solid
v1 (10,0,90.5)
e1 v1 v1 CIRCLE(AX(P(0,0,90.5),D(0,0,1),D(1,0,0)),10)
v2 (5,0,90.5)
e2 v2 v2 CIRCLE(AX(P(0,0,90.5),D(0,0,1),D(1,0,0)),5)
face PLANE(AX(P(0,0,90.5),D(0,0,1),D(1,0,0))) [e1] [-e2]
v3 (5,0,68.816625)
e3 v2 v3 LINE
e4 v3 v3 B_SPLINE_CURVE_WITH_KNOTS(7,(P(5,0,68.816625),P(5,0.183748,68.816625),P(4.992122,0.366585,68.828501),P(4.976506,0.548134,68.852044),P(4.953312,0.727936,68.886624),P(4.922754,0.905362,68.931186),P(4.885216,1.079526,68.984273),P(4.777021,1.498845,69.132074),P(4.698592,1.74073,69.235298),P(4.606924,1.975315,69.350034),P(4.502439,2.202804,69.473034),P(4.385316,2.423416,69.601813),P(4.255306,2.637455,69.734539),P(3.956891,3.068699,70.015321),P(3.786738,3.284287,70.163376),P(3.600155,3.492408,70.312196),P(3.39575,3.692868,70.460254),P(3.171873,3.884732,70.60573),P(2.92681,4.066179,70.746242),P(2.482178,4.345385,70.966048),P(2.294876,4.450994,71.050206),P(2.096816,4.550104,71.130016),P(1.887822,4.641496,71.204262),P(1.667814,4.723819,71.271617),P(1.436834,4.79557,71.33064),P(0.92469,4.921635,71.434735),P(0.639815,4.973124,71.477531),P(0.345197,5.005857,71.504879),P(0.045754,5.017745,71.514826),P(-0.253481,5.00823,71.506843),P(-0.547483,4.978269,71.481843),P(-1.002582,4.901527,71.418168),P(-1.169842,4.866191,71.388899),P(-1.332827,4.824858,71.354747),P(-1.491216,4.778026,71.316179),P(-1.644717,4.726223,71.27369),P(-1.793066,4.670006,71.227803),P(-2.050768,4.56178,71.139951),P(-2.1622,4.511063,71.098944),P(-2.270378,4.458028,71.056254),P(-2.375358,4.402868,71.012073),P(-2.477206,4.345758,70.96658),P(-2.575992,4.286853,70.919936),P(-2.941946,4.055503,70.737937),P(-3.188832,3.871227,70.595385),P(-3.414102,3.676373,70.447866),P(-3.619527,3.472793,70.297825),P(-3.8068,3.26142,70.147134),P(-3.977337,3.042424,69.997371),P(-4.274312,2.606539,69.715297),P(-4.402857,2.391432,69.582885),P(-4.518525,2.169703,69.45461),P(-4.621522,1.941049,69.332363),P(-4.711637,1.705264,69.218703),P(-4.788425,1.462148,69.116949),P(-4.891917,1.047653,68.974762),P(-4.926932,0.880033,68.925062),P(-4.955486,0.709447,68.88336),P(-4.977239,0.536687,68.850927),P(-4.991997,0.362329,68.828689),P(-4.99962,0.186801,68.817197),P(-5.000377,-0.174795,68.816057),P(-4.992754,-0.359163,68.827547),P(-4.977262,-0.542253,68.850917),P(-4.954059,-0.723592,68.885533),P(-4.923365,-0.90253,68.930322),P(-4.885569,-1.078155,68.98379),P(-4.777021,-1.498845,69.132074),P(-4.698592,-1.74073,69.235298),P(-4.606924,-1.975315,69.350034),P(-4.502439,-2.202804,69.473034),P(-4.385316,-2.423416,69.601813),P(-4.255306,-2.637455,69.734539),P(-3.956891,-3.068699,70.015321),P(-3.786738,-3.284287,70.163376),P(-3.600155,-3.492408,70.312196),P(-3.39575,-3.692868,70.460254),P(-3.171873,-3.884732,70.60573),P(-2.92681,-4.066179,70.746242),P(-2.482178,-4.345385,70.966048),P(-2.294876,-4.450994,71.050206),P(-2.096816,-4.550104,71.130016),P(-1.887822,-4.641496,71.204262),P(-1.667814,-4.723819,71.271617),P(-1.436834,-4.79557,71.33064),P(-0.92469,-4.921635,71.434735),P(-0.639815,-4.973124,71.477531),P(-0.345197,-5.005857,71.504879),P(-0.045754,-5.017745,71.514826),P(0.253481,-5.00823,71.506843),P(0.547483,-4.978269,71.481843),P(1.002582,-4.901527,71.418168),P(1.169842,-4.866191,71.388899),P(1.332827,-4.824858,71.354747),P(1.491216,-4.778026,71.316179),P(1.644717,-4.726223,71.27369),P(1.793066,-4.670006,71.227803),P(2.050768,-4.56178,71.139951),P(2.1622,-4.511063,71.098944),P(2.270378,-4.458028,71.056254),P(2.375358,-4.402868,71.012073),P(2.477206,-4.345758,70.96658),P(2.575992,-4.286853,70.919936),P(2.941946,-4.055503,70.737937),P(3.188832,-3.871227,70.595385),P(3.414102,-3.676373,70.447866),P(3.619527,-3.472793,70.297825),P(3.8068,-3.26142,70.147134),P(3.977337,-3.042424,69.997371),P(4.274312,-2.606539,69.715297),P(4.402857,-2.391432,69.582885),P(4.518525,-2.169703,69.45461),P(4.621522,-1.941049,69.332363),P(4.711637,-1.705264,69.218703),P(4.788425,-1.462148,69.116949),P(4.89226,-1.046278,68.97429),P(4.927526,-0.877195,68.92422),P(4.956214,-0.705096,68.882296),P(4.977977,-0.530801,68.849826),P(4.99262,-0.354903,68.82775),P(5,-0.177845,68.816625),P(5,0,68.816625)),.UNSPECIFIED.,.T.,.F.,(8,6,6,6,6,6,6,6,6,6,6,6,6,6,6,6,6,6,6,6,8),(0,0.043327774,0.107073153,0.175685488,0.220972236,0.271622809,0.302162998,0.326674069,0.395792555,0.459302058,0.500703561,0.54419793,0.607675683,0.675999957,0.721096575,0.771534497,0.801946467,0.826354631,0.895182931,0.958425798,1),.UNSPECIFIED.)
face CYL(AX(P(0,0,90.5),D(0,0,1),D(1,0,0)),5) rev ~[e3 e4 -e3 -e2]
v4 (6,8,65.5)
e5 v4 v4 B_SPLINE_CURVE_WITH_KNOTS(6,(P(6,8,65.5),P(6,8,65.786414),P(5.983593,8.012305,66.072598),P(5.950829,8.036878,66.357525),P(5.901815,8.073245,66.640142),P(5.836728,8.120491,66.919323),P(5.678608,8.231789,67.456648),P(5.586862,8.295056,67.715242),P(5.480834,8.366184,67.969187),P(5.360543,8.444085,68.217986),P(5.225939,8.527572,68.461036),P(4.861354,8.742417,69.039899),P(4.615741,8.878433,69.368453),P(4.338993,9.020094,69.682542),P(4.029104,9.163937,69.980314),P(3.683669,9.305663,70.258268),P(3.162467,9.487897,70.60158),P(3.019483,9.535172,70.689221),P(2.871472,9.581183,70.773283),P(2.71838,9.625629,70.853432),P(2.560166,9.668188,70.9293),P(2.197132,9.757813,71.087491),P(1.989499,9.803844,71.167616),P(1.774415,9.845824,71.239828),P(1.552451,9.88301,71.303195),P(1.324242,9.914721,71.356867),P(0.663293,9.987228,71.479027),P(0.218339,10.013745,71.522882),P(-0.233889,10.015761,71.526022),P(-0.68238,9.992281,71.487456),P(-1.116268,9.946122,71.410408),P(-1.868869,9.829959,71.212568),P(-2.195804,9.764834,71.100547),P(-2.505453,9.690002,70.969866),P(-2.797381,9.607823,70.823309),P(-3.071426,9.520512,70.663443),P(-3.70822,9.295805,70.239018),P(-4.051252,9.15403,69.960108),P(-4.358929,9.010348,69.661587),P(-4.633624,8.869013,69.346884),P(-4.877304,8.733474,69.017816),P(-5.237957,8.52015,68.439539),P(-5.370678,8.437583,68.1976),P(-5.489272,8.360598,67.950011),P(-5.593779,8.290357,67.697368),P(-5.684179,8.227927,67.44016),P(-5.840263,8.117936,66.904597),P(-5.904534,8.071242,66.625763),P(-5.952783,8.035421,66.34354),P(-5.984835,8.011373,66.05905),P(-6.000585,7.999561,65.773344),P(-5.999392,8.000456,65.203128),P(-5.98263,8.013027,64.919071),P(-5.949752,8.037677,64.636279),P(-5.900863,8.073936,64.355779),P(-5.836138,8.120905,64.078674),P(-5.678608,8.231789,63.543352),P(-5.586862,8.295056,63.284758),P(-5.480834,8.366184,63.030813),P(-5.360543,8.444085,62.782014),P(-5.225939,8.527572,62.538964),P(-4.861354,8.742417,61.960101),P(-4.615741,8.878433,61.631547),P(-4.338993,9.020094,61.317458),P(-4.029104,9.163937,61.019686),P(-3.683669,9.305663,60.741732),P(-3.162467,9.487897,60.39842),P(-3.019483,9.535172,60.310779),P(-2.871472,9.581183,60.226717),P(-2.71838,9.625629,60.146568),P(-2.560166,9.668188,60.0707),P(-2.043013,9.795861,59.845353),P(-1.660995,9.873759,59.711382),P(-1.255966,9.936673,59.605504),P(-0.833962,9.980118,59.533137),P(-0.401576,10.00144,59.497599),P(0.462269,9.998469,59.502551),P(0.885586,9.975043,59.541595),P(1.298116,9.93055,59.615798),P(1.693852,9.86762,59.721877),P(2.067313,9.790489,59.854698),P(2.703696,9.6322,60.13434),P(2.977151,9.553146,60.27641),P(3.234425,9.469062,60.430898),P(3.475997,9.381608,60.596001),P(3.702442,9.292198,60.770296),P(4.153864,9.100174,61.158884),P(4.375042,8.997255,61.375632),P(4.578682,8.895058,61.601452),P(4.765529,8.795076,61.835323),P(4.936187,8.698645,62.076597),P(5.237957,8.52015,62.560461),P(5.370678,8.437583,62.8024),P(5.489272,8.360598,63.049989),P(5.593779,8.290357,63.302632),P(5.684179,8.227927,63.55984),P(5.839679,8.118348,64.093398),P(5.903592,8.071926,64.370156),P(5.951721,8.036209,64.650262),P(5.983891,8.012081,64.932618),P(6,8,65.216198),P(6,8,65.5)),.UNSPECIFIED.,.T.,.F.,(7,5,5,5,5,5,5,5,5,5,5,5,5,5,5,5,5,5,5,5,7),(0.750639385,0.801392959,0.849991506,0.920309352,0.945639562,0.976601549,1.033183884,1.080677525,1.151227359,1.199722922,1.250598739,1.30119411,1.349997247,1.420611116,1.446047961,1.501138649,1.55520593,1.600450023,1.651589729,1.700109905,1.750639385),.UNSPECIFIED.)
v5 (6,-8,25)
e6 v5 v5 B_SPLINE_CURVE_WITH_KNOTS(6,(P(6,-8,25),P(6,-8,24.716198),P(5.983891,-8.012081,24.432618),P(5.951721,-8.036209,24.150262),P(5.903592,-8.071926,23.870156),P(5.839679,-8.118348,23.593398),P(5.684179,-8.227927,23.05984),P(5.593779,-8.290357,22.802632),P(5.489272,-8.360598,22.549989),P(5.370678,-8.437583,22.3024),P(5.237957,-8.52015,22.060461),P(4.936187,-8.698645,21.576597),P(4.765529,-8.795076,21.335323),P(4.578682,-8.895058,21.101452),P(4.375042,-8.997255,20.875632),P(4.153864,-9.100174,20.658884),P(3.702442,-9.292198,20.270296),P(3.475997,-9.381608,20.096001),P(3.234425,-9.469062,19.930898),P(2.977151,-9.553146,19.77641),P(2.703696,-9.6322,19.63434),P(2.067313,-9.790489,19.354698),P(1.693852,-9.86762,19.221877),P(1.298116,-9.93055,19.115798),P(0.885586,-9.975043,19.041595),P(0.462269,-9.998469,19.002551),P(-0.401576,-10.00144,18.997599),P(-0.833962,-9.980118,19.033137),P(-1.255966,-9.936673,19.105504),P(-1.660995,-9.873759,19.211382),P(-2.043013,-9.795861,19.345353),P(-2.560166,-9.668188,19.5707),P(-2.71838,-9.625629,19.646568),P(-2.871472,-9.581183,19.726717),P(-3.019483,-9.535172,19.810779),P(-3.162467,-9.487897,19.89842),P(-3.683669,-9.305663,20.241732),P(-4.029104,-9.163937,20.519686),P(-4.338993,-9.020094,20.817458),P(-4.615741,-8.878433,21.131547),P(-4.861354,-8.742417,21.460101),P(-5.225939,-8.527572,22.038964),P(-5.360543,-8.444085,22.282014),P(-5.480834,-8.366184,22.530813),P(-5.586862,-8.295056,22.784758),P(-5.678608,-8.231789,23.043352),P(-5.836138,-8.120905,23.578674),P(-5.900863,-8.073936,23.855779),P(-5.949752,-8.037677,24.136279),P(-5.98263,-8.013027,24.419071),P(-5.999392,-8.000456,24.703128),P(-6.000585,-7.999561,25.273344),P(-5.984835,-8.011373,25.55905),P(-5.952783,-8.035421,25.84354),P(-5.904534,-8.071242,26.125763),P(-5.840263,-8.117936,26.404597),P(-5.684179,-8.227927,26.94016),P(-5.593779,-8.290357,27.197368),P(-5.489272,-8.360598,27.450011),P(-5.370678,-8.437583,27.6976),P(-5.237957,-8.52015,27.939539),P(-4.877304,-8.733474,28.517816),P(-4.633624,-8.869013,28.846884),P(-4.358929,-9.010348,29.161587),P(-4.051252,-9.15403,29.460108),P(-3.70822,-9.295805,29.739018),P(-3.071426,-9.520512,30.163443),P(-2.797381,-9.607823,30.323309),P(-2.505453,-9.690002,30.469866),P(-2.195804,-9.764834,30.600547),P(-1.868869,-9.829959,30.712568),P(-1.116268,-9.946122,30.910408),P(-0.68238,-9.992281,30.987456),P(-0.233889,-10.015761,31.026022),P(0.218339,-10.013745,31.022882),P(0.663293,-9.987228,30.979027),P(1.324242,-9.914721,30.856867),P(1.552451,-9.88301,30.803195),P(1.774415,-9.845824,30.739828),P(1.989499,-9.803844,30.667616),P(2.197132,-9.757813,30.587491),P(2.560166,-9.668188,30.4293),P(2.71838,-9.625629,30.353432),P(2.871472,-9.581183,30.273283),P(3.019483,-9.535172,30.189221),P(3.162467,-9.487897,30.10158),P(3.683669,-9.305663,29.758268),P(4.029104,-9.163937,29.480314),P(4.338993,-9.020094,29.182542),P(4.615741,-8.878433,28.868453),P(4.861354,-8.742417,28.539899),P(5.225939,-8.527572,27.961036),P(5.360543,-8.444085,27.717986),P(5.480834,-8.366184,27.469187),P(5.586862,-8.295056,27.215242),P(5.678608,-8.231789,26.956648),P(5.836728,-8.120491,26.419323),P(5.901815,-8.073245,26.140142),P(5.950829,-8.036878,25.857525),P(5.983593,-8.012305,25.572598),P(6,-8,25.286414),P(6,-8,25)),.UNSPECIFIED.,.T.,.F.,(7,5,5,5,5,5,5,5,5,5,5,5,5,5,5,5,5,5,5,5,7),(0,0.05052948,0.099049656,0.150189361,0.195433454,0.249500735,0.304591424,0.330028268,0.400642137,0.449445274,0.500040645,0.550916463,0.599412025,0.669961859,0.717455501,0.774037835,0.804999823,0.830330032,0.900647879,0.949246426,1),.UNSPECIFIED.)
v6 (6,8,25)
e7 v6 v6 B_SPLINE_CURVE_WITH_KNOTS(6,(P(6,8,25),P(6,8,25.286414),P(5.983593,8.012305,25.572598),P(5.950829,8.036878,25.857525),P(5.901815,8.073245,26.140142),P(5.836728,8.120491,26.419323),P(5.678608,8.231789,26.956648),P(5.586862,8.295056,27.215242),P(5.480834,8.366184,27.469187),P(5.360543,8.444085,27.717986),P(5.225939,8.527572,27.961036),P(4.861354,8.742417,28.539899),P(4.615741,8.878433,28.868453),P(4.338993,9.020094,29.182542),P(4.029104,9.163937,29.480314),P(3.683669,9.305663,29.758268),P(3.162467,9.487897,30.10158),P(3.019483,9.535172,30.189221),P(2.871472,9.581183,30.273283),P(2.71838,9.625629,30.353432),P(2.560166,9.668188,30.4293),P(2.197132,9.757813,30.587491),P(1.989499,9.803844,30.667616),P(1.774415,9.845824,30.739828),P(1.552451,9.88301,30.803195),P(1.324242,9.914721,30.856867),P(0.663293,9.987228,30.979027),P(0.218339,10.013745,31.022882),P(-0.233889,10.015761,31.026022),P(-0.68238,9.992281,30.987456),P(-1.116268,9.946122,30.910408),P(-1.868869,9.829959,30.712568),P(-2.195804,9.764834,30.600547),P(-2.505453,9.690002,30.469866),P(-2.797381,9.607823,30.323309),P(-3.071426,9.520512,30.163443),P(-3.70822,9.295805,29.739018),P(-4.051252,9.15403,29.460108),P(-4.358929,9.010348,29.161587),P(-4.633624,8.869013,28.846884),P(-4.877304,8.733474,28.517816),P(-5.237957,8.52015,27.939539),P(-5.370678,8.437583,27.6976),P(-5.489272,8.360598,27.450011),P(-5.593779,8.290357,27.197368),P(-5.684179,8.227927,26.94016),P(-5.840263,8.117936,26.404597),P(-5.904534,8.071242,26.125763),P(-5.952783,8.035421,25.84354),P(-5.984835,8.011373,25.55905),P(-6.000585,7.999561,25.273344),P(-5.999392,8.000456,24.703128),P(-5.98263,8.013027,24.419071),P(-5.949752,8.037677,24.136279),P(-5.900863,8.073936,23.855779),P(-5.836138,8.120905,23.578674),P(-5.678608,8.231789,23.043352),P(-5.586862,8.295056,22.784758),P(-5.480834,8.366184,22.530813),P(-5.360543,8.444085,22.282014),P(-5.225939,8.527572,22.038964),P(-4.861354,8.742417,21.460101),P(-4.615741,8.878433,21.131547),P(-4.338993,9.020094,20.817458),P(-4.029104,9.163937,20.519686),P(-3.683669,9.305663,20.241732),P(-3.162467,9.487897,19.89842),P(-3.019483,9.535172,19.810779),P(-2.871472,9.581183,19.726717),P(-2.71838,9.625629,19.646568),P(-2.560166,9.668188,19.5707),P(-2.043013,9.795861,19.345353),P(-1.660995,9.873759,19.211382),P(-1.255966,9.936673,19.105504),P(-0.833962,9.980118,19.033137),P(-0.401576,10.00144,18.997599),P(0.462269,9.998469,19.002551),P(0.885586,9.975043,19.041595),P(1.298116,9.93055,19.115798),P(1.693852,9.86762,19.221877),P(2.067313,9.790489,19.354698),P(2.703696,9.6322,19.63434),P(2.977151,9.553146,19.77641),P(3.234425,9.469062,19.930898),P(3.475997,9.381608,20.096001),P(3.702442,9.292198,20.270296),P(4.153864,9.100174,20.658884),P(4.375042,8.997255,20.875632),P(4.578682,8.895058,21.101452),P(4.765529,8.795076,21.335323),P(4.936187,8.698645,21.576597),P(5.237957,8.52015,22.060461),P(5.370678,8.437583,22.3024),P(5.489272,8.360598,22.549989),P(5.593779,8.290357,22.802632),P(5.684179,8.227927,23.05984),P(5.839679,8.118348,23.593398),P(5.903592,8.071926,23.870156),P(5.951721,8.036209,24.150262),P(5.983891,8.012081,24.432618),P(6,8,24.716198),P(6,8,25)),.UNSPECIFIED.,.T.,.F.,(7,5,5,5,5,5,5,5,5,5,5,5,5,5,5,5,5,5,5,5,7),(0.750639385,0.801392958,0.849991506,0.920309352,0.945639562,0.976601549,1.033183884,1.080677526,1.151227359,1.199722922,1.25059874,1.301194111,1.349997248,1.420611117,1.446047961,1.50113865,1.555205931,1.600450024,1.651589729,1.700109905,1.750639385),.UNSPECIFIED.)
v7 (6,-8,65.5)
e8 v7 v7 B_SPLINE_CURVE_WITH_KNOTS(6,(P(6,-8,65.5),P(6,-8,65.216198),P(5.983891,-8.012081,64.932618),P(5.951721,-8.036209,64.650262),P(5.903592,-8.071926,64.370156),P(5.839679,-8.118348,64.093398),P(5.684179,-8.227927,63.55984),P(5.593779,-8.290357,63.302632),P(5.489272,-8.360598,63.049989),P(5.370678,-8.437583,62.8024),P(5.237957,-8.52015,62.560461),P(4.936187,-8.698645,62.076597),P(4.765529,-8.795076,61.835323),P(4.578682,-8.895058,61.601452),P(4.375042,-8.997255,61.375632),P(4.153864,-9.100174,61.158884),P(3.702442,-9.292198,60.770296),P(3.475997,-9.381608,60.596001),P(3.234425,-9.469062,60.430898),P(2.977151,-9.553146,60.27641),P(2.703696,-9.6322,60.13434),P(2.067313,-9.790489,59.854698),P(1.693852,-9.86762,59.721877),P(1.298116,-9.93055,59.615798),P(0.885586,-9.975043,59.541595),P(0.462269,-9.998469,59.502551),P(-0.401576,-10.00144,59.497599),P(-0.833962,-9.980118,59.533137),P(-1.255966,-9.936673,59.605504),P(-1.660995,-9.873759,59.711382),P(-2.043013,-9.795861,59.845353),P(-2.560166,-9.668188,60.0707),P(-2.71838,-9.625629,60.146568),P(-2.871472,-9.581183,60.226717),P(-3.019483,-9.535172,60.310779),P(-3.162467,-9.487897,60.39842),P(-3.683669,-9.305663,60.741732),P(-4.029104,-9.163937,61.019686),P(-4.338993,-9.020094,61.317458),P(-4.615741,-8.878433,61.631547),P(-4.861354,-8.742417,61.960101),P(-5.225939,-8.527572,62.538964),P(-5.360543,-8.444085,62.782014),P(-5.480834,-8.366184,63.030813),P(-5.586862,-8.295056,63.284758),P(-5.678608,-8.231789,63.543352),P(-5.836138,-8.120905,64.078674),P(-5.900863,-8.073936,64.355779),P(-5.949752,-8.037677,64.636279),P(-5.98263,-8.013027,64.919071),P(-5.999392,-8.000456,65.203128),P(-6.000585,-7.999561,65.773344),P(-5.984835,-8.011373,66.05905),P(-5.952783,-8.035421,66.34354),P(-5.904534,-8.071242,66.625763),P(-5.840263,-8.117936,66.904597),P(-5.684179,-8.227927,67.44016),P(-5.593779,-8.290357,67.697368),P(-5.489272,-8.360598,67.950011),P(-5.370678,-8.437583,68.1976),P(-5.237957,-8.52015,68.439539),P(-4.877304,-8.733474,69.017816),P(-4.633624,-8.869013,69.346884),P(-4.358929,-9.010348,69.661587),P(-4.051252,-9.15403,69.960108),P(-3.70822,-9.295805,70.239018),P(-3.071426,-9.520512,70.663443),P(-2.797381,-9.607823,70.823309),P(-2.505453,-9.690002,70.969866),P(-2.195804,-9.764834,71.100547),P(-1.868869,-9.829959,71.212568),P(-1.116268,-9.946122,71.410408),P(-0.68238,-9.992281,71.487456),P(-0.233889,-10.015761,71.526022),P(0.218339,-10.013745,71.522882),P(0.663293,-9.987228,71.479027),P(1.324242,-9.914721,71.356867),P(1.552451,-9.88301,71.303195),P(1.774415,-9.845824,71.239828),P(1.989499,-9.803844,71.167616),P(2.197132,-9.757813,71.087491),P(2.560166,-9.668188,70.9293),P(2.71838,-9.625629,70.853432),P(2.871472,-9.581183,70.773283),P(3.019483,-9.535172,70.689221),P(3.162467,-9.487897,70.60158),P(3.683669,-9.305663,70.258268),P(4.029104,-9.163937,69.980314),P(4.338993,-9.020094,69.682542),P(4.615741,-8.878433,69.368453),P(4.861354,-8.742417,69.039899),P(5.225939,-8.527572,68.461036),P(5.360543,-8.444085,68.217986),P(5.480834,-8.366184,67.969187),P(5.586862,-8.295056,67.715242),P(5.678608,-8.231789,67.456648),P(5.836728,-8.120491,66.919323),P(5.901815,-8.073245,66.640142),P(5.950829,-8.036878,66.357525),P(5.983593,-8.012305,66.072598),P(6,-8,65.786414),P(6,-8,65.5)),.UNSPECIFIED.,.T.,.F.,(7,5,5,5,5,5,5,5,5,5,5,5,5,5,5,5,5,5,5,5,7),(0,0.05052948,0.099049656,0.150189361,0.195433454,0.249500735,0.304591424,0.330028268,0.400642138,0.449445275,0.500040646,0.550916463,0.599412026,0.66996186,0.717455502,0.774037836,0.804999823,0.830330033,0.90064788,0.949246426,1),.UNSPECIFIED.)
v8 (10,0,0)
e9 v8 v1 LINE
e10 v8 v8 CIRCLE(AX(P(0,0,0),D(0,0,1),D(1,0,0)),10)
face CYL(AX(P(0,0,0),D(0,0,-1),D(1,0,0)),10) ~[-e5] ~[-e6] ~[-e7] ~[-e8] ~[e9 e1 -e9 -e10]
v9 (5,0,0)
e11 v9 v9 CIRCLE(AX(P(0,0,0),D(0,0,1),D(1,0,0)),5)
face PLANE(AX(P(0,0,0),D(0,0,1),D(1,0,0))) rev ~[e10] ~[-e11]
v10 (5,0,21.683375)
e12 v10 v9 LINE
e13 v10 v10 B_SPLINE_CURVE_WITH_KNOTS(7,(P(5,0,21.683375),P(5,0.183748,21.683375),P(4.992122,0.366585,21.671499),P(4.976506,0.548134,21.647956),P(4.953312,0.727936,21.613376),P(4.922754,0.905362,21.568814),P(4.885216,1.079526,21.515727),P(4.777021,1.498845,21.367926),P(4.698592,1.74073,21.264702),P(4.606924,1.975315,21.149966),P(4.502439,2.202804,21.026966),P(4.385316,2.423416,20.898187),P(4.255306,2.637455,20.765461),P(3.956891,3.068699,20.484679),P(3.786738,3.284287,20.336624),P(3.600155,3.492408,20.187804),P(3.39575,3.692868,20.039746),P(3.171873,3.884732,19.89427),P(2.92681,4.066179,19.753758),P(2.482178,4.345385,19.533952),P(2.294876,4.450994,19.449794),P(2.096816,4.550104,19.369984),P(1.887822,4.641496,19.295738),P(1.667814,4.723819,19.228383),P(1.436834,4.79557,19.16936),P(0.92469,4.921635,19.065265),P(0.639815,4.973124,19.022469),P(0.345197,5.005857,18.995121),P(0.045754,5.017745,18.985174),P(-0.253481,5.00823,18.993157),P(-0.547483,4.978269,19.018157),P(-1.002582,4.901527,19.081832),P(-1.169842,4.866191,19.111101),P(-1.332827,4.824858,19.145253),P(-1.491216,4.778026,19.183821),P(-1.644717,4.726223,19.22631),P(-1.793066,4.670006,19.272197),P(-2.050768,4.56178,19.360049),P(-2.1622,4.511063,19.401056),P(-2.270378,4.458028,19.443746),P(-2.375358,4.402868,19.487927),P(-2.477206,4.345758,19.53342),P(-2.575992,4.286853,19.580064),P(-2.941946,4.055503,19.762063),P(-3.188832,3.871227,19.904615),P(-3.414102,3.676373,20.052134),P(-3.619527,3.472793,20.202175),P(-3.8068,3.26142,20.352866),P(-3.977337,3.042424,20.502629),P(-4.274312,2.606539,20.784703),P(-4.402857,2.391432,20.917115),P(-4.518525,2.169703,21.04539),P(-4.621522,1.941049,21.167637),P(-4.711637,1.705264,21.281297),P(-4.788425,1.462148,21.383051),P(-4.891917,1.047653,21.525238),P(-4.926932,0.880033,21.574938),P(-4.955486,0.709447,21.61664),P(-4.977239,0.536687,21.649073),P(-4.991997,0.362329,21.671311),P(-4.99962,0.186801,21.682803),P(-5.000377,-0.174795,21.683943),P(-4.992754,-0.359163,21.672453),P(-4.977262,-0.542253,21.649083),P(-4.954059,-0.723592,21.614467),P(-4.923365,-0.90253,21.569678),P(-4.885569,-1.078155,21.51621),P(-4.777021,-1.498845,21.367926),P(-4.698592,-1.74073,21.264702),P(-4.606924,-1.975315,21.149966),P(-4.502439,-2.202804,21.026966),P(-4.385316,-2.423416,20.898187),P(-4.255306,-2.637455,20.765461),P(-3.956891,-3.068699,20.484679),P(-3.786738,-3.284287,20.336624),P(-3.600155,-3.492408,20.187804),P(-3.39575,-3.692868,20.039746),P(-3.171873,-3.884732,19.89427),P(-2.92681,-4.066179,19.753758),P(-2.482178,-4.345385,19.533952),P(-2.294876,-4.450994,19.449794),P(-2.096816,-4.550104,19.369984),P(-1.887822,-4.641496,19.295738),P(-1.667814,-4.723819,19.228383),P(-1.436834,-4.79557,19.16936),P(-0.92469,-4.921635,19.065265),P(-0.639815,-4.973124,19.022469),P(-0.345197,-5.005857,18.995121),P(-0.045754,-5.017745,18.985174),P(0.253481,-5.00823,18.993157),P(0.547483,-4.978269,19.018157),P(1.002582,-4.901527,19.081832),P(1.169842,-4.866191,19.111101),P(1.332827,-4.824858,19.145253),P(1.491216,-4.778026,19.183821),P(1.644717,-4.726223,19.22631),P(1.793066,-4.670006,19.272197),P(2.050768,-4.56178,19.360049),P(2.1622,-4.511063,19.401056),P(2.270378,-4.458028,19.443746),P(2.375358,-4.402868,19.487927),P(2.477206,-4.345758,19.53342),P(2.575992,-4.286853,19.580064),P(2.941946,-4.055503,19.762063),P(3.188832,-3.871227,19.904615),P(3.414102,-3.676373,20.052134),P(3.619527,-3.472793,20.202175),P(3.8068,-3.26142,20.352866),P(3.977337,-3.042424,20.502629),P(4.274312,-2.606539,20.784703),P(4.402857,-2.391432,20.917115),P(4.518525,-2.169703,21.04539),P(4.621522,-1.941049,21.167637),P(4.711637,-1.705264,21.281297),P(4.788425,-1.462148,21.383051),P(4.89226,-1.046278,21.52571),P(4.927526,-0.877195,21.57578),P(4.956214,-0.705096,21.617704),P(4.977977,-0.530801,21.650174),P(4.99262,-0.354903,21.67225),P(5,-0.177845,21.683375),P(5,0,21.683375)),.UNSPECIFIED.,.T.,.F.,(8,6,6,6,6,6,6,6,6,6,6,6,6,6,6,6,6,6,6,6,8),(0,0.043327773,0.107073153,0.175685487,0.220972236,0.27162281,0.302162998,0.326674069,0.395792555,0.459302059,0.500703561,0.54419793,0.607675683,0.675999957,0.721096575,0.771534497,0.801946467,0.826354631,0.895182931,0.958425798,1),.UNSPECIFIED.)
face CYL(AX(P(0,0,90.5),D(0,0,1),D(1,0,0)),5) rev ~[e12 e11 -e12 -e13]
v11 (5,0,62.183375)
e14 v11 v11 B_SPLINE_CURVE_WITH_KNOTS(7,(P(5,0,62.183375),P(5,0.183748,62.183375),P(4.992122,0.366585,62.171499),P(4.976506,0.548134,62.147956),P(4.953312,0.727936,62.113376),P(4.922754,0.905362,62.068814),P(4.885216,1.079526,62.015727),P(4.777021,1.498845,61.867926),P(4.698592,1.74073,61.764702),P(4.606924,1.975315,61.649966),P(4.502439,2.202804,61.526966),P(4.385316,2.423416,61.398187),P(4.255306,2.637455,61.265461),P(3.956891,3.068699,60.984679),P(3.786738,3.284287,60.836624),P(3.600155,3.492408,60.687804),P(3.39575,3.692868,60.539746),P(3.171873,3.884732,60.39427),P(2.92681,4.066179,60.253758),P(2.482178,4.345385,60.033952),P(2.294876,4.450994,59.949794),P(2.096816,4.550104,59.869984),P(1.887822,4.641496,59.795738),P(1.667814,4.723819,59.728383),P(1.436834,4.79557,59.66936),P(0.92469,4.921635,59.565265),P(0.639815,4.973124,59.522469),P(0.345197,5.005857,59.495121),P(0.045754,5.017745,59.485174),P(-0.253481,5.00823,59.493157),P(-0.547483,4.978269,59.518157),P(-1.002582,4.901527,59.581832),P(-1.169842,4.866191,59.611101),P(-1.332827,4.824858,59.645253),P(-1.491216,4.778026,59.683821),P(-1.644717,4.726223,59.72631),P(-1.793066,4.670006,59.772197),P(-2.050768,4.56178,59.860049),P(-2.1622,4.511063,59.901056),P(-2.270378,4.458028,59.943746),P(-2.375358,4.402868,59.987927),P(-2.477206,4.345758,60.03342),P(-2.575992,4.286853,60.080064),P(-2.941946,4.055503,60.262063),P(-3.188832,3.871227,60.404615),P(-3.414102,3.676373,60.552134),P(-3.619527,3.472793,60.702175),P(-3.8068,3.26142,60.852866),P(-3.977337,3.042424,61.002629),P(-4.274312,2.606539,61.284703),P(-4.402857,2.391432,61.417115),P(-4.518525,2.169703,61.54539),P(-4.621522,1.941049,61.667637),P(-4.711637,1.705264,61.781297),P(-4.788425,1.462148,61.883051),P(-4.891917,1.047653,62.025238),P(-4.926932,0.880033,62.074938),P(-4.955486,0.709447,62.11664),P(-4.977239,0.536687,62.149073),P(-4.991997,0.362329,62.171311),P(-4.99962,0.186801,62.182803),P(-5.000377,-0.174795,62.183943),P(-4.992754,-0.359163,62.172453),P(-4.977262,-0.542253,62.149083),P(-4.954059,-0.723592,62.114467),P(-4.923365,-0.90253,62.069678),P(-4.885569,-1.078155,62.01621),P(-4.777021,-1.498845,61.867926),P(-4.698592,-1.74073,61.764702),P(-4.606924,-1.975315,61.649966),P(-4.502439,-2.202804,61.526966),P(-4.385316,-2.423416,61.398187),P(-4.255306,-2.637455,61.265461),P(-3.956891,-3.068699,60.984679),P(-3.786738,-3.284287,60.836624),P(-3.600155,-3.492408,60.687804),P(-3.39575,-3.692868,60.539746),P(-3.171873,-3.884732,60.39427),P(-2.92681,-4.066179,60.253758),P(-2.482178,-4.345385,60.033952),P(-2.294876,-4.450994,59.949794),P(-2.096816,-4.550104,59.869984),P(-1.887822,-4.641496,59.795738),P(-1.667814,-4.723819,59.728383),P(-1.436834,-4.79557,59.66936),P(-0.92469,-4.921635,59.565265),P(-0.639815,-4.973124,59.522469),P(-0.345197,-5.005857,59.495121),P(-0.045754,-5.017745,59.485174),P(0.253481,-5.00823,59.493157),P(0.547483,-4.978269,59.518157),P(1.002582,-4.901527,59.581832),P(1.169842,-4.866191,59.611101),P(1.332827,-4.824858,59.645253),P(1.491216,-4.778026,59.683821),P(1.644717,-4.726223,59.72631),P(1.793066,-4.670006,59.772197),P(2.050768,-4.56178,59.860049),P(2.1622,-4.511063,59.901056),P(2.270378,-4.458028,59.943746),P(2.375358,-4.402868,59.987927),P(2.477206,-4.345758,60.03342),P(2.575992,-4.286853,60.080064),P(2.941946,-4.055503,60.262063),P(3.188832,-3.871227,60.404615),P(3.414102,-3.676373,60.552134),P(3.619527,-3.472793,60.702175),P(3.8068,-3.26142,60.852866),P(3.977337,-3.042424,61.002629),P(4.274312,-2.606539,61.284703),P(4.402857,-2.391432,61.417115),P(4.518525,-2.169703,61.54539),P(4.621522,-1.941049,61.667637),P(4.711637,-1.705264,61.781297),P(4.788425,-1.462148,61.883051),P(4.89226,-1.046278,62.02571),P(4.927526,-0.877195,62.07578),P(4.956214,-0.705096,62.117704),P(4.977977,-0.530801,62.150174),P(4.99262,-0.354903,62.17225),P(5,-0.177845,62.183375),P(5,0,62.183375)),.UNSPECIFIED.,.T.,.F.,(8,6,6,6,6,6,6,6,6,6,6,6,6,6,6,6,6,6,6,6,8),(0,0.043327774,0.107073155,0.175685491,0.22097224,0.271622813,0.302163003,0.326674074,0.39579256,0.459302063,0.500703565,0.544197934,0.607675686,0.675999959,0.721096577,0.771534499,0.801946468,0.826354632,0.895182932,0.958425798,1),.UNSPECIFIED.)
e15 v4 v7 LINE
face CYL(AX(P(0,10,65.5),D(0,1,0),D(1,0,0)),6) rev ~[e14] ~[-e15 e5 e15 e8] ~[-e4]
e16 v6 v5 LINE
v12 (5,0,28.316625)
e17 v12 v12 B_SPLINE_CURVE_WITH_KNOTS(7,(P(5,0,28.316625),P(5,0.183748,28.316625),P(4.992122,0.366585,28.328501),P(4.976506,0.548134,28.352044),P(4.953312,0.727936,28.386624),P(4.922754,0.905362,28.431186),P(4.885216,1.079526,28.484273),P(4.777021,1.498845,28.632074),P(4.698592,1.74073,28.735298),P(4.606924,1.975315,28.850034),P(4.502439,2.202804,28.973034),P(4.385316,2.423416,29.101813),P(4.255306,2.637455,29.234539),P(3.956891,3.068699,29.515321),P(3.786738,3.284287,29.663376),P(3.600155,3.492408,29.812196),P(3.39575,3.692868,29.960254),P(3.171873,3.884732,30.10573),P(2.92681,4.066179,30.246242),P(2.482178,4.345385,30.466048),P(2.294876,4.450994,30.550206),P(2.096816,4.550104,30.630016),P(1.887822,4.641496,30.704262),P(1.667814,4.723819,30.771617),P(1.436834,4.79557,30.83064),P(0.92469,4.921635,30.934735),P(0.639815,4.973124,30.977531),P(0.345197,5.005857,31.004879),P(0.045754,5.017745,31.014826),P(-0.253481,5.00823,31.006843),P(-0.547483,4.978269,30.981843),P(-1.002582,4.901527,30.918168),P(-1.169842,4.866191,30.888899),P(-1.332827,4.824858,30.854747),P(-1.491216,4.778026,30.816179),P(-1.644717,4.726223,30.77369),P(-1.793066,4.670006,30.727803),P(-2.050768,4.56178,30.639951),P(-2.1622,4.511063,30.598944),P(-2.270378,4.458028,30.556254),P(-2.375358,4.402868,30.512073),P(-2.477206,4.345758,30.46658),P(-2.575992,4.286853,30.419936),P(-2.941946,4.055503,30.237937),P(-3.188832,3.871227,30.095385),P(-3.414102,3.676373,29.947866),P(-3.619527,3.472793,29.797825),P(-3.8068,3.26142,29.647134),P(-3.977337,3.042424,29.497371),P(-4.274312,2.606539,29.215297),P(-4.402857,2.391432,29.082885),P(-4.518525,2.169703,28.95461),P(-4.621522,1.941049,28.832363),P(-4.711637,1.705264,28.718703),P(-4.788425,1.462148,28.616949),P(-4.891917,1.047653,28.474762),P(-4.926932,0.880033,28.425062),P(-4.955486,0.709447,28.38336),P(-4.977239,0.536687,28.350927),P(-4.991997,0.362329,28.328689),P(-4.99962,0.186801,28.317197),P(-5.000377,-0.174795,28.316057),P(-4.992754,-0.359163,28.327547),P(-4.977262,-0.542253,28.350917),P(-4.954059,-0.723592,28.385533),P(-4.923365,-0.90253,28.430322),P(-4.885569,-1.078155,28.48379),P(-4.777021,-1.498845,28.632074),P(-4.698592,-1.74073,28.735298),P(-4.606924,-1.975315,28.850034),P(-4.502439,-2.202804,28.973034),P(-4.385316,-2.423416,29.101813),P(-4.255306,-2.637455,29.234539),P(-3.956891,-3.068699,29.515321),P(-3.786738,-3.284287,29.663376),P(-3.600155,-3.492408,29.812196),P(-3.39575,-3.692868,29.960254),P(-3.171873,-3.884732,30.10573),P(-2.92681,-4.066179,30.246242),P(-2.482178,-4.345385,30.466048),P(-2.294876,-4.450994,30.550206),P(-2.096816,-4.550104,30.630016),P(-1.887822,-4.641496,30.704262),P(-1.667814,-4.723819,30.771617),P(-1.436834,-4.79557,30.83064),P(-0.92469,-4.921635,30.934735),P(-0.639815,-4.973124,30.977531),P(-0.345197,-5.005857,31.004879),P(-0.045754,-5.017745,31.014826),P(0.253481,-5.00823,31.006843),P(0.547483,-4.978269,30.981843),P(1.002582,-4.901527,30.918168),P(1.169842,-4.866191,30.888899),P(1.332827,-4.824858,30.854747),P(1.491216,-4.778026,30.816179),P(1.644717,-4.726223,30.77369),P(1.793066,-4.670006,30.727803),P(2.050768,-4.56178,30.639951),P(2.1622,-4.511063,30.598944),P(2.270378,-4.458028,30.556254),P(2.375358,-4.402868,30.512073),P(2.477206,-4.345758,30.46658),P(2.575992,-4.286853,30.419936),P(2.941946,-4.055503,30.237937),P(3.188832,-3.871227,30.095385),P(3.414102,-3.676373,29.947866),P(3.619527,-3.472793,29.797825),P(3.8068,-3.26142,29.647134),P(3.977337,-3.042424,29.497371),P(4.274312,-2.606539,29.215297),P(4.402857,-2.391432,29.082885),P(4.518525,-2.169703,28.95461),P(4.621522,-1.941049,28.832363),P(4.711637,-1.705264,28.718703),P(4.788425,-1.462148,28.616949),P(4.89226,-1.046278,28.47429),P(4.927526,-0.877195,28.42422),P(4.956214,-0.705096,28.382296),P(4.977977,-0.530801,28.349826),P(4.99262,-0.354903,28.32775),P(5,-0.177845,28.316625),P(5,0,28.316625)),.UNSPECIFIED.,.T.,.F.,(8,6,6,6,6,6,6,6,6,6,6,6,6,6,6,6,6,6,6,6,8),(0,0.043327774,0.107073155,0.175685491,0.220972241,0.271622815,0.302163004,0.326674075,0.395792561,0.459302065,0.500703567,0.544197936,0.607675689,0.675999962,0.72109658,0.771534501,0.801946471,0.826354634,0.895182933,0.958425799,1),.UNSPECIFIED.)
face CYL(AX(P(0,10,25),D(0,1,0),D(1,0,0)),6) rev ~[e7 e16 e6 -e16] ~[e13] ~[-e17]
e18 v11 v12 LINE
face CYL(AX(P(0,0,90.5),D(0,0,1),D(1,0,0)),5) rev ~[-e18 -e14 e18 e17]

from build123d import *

# Parameters (mm, degrees)
SKETCH1_R           = 10
BOSS_EXTRUDE1_DEPTH = 90.5
SKETCH2_R           = 5
CUT_EXTRUDE1_DEPTH  = 91.5
SKETCH3_R           = 6
CUT_EXTRUDE2_DEPTH  = 21


with BuildPart() as part:
    # Sketch1 → Boss-Extrude1 (new body)
    with BuildSketch(Plane.XY):
        Circle(SKETCH1_R)
    extrude(amount=BOSS_EXTRUDE1_DEPTH)

    # Sketch2 → Cut-Extrude1 (cut, through all)
    with BuildSketch(Plane.XY.offset(90.5)):
        Circle(SKETCH2_R)
    extrude(amount=-CUT_EXTRUDE1_DEPTH, mode=Mode.SUBTRACT)

    # Sketch3 → Cut-Extrude2 (cut, through all)
    with BuildSketch(Plane(origin=(0, 10, 0), x_dir=(1, 0, 0), z_dir=(0, 1, 0))):
        with Locations((0, -25)):
            Circle(SKETCH3_R)
        with Locations((0, -65.5)):
            Circle(SKETCH3_R)
    extrude(amount=-CUT_EXTRUDE2_DEPTH, mode=Mode.SUBTRACT)


solid = part.part
